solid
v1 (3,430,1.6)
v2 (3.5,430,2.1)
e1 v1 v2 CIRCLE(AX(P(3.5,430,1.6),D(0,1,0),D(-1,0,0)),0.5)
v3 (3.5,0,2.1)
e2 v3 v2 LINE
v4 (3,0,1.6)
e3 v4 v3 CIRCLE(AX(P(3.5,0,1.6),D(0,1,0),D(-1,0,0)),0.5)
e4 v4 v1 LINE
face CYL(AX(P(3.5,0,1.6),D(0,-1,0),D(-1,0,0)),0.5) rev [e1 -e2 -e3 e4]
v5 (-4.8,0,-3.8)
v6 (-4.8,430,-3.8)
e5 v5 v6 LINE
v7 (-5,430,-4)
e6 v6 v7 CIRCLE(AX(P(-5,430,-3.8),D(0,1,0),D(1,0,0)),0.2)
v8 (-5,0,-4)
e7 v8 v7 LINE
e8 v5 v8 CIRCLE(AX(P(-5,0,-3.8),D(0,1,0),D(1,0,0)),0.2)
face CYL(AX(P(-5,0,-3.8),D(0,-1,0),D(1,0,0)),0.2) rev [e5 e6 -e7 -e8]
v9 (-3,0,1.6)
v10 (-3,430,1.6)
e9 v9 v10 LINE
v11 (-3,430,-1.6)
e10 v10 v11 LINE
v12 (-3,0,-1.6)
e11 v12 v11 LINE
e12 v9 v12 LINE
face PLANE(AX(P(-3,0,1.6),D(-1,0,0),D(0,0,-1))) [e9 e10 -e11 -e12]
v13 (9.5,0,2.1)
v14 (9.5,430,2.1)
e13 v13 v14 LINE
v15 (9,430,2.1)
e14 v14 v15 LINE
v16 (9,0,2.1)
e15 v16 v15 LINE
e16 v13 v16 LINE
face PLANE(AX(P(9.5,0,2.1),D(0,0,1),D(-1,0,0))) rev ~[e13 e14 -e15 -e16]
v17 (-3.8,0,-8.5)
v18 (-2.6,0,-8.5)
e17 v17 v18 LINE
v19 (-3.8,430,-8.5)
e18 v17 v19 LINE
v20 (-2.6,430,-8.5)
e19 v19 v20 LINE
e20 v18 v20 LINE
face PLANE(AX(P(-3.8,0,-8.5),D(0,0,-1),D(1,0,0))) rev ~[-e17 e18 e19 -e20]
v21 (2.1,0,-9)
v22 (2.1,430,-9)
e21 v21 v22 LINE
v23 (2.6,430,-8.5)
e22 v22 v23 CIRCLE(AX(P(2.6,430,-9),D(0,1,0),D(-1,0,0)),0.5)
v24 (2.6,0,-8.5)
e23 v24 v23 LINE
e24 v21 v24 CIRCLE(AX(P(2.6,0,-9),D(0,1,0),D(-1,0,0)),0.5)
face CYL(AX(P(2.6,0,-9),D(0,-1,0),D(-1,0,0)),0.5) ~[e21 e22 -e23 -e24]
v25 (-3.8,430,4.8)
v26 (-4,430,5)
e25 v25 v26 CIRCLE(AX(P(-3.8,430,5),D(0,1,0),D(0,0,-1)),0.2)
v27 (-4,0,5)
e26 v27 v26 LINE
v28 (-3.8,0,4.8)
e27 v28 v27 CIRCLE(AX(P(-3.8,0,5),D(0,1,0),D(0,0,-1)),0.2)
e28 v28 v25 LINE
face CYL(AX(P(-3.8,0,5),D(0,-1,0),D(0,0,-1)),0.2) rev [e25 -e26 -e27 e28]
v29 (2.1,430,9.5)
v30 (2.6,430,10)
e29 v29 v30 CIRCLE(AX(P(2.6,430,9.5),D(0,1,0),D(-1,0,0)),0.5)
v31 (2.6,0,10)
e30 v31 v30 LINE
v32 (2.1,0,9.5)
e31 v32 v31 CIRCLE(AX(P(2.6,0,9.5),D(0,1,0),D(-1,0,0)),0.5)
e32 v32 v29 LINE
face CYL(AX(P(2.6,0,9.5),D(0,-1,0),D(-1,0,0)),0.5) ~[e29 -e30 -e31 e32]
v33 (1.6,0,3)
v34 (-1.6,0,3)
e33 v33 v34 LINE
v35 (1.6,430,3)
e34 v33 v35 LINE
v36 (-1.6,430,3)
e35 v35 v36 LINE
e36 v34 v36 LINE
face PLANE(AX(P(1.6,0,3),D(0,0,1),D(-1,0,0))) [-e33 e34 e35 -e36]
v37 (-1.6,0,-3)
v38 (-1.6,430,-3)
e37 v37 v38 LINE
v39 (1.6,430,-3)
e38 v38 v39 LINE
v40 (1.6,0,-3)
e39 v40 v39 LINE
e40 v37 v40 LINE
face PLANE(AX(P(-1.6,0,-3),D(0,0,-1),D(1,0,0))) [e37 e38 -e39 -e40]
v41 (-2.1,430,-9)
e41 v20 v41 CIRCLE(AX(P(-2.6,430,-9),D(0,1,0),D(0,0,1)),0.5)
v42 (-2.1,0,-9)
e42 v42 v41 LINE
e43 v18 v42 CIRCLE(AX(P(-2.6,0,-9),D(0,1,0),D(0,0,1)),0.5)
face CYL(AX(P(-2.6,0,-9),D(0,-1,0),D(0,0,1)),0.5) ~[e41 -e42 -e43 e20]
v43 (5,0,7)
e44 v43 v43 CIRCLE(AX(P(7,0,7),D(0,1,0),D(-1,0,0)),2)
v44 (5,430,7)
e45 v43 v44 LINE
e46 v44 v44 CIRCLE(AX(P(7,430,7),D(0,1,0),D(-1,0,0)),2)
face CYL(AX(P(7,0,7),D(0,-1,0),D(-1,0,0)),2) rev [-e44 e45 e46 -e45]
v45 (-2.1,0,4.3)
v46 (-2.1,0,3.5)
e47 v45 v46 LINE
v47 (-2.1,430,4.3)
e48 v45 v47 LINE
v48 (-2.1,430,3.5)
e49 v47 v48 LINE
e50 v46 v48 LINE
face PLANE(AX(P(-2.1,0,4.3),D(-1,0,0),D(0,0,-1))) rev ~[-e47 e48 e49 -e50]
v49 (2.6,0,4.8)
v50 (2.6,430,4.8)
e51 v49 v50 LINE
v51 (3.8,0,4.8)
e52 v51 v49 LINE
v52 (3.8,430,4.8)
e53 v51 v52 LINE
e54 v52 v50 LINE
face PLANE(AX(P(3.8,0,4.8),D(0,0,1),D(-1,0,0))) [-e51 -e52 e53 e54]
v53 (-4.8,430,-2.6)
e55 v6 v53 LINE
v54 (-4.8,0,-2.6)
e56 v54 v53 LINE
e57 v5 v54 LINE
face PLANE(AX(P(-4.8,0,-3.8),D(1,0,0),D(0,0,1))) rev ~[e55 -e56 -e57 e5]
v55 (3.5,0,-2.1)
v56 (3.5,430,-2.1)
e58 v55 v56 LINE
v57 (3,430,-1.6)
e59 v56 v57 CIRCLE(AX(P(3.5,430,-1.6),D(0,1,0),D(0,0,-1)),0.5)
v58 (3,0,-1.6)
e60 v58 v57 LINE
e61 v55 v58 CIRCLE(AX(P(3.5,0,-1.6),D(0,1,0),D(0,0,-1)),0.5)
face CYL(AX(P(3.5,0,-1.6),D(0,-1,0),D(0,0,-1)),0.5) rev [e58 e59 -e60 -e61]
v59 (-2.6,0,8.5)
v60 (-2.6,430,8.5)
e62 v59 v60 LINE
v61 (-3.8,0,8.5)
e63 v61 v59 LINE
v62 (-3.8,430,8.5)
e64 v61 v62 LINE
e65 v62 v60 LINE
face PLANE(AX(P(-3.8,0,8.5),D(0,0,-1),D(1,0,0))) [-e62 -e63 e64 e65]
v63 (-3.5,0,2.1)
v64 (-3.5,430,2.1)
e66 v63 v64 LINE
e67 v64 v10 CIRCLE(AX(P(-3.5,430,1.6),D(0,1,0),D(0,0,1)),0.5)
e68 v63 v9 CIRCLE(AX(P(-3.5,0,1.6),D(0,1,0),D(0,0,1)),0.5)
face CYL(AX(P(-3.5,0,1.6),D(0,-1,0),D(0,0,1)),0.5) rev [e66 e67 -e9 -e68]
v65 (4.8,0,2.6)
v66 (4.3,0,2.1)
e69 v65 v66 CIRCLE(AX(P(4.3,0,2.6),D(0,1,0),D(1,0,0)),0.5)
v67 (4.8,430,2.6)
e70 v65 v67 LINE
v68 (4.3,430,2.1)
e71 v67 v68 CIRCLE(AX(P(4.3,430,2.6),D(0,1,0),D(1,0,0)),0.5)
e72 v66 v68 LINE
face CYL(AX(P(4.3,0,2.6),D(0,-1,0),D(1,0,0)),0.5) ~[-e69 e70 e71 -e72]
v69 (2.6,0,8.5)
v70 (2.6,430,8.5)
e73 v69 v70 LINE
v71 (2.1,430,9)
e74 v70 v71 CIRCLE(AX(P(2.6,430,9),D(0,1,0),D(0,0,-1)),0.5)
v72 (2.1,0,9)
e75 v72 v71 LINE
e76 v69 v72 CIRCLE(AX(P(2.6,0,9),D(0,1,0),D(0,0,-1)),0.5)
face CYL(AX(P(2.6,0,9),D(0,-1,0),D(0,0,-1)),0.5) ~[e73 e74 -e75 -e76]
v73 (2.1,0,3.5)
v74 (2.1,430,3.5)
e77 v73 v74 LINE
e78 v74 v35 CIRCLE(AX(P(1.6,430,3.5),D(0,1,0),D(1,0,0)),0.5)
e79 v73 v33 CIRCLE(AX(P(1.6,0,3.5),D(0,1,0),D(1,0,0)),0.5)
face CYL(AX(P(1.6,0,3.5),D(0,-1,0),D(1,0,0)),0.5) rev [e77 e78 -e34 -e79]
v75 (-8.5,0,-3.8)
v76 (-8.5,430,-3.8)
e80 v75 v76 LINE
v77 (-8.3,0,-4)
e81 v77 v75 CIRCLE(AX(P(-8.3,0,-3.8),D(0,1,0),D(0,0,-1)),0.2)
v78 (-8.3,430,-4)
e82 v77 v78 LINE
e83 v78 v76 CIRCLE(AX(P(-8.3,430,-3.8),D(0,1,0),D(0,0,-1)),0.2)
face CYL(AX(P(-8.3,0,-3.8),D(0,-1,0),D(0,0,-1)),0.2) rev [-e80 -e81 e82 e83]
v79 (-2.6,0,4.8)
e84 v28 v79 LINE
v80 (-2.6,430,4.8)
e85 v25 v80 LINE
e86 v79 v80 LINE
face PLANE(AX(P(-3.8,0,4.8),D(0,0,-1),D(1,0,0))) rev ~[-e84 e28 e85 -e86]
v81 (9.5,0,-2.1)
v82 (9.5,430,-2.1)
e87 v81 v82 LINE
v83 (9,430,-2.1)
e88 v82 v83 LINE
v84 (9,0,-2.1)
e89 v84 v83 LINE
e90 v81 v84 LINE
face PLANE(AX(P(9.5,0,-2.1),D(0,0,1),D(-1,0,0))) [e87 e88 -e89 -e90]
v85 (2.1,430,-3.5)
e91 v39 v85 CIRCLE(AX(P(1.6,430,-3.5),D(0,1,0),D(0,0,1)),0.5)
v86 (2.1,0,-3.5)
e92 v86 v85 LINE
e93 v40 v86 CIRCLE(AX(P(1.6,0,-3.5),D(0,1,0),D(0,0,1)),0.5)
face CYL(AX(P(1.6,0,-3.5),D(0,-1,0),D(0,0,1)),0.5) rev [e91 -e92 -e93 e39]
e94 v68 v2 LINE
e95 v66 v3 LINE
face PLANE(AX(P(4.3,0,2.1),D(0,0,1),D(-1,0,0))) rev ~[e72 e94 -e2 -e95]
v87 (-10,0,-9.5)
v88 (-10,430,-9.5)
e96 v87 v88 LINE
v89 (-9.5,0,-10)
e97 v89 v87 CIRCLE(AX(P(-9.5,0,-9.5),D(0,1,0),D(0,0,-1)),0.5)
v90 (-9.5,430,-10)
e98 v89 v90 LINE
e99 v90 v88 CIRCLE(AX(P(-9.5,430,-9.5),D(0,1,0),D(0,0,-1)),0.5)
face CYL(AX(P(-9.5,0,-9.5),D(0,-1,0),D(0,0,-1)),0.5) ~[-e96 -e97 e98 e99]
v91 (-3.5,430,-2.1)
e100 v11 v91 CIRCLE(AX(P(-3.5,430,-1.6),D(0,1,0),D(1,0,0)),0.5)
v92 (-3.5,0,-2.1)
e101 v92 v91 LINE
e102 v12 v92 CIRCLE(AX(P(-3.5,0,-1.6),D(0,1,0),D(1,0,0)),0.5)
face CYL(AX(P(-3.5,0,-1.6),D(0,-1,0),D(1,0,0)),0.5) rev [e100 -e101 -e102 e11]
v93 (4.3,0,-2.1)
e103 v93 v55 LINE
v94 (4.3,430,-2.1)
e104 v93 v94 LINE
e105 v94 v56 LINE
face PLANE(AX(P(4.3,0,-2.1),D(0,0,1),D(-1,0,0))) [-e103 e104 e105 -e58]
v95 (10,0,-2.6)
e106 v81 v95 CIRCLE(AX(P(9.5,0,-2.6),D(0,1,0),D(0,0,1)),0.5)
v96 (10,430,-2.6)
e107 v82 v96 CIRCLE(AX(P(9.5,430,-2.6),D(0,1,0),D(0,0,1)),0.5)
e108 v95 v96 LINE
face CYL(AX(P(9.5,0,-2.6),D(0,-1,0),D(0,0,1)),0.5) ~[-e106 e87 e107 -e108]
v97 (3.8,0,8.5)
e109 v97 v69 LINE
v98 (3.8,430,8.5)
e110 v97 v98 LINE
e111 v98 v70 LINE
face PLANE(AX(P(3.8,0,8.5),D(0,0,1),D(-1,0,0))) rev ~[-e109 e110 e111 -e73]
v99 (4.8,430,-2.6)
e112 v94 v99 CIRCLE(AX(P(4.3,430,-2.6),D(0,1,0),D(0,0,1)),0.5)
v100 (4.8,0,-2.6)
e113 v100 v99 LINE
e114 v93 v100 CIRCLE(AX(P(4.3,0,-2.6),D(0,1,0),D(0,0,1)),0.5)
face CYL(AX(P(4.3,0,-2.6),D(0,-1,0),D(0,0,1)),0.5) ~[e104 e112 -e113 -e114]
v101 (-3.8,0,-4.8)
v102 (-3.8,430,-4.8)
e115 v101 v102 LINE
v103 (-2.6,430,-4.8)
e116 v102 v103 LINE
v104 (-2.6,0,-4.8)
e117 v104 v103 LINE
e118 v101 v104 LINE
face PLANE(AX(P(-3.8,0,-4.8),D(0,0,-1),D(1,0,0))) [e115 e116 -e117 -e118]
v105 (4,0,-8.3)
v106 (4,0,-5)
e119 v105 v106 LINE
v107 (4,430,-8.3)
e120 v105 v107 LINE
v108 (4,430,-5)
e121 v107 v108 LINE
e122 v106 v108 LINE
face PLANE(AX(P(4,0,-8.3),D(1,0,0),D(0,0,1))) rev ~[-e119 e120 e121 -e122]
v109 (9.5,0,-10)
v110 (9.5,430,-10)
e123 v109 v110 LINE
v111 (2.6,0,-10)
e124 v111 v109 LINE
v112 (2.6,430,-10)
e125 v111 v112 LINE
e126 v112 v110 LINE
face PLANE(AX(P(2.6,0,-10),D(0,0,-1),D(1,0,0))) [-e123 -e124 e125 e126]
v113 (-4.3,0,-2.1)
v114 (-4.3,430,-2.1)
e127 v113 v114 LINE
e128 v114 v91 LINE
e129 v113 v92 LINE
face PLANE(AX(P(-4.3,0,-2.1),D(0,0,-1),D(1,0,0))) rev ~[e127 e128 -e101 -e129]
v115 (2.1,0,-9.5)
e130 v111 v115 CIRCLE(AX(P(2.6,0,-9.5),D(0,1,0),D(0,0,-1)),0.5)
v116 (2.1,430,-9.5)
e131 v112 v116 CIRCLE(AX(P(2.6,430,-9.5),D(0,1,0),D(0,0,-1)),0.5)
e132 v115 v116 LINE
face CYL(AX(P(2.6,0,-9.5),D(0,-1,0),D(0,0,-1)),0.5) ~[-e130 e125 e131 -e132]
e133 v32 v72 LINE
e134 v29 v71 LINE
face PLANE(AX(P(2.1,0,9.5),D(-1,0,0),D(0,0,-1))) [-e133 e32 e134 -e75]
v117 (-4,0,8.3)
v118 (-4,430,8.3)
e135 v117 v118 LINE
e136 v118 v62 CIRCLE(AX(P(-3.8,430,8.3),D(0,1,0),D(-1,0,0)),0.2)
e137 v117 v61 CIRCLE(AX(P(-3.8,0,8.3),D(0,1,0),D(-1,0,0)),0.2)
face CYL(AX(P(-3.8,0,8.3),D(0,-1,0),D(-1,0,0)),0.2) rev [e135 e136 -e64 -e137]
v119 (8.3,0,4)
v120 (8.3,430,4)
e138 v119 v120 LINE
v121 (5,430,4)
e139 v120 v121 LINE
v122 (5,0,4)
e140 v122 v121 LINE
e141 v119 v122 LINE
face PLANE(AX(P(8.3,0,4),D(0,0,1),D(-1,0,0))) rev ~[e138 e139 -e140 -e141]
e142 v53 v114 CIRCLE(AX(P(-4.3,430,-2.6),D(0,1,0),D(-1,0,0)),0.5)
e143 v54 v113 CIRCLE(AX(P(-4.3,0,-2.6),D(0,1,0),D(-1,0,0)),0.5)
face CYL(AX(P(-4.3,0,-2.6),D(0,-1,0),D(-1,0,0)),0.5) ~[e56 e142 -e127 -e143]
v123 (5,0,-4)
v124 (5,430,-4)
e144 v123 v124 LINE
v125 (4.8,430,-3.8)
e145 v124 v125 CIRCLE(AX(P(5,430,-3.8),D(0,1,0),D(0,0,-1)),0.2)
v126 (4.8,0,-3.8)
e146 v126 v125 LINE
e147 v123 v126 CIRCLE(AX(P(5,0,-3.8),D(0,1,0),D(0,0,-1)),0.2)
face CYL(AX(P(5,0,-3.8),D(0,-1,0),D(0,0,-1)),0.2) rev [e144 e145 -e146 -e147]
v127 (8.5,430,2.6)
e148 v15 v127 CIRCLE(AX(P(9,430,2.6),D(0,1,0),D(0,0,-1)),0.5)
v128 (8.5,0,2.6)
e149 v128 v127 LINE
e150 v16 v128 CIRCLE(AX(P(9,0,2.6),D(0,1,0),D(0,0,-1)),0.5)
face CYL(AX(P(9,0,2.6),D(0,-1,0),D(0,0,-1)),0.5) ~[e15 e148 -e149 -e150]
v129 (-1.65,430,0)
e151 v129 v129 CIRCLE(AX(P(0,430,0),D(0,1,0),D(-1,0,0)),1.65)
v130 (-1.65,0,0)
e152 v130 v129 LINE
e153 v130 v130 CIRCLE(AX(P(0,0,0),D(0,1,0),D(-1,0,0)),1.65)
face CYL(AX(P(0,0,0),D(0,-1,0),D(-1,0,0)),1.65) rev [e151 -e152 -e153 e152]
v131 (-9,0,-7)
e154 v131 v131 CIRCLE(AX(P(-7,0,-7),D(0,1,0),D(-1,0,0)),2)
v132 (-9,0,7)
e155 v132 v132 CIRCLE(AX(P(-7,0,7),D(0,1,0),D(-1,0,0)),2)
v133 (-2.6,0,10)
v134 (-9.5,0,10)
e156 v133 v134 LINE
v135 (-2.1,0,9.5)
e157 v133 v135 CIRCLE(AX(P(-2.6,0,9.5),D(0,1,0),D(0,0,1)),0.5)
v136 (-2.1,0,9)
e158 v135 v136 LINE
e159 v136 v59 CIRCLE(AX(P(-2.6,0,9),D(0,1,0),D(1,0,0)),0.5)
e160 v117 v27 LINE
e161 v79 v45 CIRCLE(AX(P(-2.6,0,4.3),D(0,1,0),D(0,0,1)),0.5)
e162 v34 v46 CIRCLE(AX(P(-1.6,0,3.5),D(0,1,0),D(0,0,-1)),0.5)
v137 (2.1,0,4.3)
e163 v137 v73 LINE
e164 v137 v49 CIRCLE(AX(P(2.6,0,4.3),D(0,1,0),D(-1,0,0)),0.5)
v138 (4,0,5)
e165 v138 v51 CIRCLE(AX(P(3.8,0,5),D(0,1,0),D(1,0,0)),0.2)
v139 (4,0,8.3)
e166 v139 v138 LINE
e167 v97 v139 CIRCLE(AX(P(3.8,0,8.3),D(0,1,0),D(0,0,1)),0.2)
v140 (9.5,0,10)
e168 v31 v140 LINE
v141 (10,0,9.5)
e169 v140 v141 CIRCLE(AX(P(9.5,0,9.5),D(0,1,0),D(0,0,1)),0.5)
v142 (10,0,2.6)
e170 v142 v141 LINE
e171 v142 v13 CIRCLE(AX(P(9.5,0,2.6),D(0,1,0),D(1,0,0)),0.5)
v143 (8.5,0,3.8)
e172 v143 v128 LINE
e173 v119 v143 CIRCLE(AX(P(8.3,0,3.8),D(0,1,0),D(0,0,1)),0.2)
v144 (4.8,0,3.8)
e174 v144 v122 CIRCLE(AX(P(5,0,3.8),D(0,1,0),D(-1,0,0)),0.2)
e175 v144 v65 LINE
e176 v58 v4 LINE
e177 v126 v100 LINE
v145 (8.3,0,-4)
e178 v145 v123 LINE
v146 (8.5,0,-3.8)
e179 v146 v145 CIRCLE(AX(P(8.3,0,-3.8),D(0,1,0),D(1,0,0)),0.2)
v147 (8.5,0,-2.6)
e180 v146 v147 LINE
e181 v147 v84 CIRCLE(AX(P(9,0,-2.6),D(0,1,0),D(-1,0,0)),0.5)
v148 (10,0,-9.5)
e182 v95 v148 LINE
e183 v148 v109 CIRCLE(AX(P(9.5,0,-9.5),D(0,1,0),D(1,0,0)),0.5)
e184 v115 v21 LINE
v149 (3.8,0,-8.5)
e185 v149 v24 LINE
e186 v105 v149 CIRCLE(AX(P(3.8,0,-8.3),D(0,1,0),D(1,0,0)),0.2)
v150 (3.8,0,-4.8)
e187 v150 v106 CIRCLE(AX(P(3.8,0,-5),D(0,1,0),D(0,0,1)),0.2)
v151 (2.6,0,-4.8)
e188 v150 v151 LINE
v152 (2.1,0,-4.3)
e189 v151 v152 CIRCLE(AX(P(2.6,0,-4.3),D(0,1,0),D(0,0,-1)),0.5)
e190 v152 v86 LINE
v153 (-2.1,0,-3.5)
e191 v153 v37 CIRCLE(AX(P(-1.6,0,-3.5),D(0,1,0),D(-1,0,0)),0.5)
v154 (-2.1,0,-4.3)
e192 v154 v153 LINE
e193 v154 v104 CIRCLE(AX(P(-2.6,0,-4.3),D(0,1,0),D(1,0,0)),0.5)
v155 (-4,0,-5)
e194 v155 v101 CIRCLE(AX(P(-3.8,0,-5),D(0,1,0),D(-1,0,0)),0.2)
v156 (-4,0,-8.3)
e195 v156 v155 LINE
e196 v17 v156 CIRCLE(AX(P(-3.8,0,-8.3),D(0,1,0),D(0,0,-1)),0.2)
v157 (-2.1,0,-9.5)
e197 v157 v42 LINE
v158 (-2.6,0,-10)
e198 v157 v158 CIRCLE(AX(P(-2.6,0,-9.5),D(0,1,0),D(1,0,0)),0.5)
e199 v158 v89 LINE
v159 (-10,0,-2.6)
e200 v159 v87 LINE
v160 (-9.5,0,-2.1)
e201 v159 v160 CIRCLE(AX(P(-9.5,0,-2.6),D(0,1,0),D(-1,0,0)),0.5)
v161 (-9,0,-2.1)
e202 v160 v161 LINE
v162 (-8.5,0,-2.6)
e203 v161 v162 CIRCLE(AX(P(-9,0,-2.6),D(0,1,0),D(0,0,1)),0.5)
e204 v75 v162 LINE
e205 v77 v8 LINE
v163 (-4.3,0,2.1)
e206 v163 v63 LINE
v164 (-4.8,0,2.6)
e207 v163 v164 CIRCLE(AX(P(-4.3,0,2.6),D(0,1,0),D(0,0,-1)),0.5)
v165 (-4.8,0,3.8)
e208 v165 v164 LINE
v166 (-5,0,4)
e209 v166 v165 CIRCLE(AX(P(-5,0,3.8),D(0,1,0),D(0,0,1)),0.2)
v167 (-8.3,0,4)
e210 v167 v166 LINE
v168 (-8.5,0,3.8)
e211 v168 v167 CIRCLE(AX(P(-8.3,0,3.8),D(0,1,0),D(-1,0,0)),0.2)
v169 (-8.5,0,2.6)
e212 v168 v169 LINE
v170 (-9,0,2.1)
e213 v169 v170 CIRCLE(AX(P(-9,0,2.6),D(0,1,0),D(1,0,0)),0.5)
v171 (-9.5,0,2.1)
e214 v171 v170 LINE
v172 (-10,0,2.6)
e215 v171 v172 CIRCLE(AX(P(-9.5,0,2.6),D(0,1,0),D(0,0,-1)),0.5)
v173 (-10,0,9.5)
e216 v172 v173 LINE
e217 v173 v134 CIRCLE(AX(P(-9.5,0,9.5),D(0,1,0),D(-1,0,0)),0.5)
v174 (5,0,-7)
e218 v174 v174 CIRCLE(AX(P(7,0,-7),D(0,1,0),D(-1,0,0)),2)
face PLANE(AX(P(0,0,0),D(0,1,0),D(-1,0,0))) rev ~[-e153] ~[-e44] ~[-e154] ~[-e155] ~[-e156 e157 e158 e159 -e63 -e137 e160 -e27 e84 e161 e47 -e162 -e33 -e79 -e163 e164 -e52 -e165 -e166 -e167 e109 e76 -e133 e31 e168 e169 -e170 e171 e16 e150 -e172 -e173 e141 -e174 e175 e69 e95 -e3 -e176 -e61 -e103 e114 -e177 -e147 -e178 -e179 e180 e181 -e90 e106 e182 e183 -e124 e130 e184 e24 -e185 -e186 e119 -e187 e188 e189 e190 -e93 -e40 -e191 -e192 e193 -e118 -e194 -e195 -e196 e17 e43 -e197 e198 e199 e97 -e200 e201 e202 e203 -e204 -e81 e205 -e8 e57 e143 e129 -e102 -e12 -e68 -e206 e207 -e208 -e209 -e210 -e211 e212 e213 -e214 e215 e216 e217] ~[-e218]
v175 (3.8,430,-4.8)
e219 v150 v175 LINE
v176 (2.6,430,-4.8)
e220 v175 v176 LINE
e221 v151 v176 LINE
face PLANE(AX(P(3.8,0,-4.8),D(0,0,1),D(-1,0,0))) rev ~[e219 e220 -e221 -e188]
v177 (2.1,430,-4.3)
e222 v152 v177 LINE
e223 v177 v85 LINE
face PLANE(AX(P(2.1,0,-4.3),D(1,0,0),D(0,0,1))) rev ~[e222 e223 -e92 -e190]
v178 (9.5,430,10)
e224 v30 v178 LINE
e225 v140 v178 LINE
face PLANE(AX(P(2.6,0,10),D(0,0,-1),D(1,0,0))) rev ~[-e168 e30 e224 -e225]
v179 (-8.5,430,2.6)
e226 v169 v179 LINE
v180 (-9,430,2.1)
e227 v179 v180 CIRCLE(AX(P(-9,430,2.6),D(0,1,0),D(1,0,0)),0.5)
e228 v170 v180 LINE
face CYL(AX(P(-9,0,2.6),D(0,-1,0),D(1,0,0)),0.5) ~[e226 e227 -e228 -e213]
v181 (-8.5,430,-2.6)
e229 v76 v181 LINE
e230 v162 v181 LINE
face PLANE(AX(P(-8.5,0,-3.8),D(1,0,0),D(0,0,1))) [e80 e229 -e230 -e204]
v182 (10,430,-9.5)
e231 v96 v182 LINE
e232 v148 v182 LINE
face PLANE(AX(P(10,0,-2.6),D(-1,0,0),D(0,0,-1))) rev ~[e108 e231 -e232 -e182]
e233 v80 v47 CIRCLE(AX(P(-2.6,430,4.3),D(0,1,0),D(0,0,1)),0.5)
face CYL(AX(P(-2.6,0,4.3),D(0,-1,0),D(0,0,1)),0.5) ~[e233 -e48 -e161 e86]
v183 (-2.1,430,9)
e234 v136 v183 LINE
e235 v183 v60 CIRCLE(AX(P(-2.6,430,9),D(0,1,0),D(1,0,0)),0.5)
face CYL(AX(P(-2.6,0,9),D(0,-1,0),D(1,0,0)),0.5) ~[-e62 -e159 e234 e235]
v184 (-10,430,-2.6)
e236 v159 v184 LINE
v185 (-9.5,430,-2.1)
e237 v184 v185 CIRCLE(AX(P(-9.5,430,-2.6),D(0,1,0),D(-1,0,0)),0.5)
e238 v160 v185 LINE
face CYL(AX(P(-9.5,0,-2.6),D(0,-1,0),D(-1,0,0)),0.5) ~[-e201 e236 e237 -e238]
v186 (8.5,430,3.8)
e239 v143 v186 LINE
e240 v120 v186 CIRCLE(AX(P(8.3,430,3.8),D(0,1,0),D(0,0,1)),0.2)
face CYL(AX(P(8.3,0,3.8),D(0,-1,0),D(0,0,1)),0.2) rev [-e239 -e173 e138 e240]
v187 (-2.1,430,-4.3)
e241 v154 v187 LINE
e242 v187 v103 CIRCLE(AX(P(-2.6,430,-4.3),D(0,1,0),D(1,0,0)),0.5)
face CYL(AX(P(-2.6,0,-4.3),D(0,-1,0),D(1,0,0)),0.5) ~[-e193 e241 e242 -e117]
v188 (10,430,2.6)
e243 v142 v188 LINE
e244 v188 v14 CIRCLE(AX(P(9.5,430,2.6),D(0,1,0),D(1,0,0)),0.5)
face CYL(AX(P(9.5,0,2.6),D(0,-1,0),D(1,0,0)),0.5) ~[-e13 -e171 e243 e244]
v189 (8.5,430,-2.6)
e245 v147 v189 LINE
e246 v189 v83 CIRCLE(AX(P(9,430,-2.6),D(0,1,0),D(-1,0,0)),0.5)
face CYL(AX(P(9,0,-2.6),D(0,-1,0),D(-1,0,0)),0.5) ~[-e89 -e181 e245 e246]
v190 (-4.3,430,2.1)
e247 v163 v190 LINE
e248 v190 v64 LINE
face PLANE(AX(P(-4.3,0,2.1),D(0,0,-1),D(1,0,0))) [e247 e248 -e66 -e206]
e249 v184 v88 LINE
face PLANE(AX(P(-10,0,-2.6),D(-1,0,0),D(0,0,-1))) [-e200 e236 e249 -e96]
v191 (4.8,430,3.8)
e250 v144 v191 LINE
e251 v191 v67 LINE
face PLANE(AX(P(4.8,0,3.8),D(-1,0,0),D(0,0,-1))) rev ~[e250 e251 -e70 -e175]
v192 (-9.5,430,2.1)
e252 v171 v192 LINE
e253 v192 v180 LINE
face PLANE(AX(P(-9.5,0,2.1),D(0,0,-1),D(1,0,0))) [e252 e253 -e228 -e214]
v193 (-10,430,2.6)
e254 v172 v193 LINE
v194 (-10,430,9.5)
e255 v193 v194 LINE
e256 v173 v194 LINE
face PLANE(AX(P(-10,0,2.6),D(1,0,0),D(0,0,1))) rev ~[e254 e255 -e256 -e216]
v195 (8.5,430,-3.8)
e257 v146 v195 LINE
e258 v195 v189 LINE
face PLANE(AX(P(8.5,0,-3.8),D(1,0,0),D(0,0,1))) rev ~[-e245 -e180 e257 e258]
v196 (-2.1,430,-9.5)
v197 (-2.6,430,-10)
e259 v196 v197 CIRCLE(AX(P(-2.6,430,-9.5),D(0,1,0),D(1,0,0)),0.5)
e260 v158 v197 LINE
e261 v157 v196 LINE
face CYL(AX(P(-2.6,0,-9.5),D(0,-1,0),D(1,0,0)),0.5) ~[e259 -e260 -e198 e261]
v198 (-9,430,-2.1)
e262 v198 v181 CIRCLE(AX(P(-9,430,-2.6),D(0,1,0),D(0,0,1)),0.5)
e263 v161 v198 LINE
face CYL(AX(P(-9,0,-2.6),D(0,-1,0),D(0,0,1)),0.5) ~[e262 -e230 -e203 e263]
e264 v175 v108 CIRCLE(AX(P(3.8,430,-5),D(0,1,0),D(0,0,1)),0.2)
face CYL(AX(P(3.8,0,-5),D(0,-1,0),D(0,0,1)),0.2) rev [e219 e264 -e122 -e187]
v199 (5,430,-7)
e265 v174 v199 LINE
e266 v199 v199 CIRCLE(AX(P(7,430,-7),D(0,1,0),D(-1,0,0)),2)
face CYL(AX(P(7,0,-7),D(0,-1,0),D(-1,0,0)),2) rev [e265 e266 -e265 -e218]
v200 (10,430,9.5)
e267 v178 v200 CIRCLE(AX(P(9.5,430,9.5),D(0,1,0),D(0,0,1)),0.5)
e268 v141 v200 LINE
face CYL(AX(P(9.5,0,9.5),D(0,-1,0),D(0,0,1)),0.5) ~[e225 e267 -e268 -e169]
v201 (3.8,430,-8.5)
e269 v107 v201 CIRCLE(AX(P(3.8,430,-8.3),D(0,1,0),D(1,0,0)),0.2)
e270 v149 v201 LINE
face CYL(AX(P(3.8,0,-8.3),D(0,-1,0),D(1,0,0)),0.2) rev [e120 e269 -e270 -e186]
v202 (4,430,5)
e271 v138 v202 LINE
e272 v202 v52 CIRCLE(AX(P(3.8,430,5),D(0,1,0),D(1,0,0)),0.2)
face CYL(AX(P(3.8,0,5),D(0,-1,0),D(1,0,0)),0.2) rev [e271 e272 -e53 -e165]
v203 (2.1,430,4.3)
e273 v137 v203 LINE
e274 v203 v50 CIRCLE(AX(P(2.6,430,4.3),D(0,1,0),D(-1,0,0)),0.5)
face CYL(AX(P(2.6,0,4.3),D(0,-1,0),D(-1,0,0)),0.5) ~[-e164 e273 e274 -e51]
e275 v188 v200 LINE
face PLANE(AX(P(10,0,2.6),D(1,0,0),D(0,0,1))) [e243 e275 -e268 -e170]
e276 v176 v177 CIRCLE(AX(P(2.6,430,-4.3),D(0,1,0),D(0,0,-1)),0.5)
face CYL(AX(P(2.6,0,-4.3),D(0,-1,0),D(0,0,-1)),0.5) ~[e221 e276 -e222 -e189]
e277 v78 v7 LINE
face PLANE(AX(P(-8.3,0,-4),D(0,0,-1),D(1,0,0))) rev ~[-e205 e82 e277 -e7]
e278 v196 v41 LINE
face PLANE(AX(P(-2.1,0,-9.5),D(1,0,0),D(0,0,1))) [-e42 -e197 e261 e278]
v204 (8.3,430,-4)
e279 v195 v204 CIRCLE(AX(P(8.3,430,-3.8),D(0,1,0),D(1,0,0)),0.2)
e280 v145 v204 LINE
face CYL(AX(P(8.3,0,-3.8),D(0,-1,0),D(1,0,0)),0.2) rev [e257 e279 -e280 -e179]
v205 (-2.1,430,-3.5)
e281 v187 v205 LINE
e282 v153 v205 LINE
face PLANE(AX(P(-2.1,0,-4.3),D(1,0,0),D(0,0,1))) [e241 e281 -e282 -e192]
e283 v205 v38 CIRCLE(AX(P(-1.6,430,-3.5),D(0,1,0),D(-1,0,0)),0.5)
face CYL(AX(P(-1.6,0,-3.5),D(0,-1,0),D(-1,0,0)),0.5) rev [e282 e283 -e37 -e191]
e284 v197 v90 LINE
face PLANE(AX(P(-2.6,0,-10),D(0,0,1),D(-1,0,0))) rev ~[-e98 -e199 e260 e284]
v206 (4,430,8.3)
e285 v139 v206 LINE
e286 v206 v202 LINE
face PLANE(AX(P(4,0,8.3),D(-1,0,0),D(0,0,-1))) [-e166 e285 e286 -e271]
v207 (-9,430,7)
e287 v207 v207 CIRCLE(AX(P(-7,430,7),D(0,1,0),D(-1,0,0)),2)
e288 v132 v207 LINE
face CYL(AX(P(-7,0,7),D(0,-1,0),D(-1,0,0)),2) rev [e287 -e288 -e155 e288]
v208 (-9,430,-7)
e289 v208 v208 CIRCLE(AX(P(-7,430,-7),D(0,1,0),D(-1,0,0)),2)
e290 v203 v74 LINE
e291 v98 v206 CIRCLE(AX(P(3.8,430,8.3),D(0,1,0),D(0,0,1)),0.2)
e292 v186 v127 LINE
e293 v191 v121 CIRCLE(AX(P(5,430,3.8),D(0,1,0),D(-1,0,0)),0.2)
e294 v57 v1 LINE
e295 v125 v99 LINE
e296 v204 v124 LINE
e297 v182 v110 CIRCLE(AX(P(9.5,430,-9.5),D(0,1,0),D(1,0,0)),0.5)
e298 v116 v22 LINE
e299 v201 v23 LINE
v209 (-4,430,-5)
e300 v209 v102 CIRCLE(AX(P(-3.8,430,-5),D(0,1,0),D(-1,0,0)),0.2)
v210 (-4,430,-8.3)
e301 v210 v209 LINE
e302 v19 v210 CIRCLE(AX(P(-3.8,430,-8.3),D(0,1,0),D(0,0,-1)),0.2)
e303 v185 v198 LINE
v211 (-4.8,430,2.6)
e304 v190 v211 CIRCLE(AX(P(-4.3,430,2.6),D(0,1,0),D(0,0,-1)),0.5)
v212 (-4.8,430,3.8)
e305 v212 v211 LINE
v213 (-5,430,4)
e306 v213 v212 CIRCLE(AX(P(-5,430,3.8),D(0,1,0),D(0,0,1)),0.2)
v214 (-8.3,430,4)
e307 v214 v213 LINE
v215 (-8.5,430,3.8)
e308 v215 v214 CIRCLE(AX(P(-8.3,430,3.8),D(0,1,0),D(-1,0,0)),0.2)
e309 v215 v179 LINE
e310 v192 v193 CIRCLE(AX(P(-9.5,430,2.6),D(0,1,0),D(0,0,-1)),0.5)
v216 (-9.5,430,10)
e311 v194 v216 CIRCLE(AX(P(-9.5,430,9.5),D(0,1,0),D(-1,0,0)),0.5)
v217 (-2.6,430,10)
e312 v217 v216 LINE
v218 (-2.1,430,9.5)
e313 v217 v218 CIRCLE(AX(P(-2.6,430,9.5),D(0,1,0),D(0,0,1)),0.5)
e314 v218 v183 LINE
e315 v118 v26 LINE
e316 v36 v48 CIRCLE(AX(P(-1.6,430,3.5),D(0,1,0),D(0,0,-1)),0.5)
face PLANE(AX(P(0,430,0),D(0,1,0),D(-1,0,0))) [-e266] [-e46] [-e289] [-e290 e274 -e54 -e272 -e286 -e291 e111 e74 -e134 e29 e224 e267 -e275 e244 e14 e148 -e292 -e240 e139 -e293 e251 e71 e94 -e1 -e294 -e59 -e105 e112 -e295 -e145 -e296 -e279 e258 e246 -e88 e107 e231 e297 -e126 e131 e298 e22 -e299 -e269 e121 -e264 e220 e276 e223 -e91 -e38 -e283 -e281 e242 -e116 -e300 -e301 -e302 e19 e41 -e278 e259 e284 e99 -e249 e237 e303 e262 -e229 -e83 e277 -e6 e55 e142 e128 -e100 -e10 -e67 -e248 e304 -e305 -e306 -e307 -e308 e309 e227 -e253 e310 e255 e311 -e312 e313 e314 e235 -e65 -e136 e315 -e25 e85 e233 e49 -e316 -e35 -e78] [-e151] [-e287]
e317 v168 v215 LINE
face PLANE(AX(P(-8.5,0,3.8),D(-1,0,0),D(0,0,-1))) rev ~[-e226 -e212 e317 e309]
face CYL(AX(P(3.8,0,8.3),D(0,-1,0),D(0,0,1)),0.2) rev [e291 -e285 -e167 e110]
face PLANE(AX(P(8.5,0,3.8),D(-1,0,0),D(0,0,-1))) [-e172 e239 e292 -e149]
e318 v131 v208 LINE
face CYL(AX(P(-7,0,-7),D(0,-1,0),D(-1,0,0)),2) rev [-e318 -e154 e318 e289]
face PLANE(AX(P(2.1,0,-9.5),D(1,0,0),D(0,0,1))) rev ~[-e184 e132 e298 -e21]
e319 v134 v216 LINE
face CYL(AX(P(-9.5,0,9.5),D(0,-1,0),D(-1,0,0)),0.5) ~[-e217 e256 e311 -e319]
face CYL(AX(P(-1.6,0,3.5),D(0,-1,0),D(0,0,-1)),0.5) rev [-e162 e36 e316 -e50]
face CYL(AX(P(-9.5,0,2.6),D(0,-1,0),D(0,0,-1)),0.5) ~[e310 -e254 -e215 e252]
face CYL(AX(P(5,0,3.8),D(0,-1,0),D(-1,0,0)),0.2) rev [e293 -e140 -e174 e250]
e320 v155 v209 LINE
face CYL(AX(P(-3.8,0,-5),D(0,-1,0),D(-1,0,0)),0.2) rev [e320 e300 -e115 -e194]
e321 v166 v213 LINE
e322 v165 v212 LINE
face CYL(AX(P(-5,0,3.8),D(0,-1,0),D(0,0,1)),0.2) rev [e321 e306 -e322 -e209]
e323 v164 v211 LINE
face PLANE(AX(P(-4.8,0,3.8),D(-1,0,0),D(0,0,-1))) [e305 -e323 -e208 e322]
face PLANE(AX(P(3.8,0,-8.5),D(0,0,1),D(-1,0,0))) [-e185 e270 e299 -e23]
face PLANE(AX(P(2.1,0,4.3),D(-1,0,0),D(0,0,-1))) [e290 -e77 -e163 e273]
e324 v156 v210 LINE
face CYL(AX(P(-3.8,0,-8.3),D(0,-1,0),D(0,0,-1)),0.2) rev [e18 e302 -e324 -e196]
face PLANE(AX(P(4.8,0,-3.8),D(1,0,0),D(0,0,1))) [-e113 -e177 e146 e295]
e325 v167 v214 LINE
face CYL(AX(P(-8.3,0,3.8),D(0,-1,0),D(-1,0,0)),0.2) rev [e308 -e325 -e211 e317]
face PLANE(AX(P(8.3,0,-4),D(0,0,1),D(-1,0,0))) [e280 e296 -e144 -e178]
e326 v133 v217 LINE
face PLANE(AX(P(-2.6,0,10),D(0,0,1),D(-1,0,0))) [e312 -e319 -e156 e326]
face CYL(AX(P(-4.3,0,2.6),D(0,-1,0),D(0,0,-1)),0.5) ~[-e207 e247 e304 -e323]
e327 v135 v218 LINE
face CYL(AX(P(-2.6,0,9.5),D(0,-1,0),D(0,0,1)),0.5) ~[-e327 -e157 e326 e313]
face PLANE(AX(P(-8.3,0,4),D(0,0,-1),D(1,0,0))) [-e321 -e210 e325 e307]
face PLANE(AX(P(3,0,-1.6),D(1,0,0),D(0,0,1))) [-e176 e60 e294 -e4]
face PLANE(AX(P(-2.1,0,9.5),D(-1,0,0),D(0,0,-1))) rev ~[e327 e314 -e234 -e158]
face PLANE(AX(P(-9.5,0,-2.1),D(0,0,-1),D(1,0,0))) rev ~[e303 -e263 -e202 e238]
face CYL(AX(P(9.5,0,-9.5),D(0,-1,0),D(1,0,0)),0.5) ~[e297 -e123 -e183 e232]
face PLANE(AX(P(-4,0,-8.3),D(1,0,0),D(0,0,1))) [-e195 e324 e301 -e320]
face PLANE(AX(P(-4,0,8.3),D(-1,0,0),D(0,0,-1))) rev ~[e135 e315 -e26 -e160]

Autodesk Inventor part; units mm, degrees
ref_plane "YZ Plane" through (0, 0, 0) normal (1, 0, 0) x (0, 1, 0)
ref_plane "開始平面" through (0, 0, 0) normal (0, 1, 0) x (-1, 0, 0)
ref_plane "終了平面" through (0, 430, 0) normal (0, 1, 0) x (-1, 0, 0)
sketch "スケッチ" plane through (0, 0, 0) normal (0, 1, 0) x (-1, 0, 0)
  line L0 (8.5, -3.8) -> (8.5, -2.6)
  line L1 (4, -8.3) -> (4, -5)
  circle A0 centre (7, -7) radius 2
  line L2 (10, -2.6) -> (10, -9.5)
  line L3 (2.6, -10) -> (9.5, -10)
  line L4 (2.1, -9.5) -> (2.1, -9)
  line L5 (8.5, -2.1) -> (8.5, -4)
  line L6 (3.8, -4.8) -> (2.6, -4.8)
  line L7 (4.8, -3.8) -> (4.8, -2.6)
  arc A1 (2.1, -4.3) -> (2.6, -4.8) centre (2.6, -4.3) ccw
  arc A2 (2.6, -8.5) -> (2.1, -9) centre (2.6, -9) ccw
  arc A3 (3.8, -8.5) -> (4, -8.3) centre (3.8, -8.3) ccw
  arc A4 (4, -5) -> (3.8, -4.8) centre (3.8, -5) ccw
  arc A5 (2.1, -3.5) -> (1.6, -3) centre (1.6, -3.5) ccw
  arc A6 (2.1, -9.5) -> (2.6, -10) centre (2.6, -9.5) ccw
  arc A7 (9.5, -10) -> (10, -9.5) centre (9.5, -9.5) ccw
  arc A8 (10, -2.6) -> (9.5, -2.1) centre (9.5, -2.6) ccw
  arc A9 (9, -2.1) -> (8.5, -2.6) centre (9, -2.6) ccw
  arc A10 (8.3, -4) -> (8.5, -3.8) centre (8.3, -3.8) ccw
  arc A11 (4.8, -3.8) -> (5, -4) centre (5, -3.8) ccw
  line L8 (4.3, -2.1) -> (3.5, -2.1)
  arc A12 (4.8, -2.6) -> (4.3, -2.1) centre (4.3, -2.6) ccw
  arc A13 (3, -1.6) -> (3.5, -2.1) centre (3.5, -1.6) ccw
  line L9 (2.1, -4.3) -> (2.1, -3.5)
  line L10 (3.8, -8.5) -> (2.6, -8.5)
  line L11 (9.5, -2.1) -> (9, -2.1)
  line L12 (8.3, -4) -> (5, -4)
  circle A14 centre (0, 0) radius 1.65
  arc A15 (8.5, 2.6) -> (9, 2.1) centre (9, 2.6) ccw
  line L13 (8.5, 3.8) -> (8.5, 2.6)
  arc A16 (8.5, 3.8) -> (8.3, 4) centre (8.3, 3.8) ccw
  line L14 (8.3, 4) -> (5, 4)
  line L15 (10, 2.6) -> (10, 9.5)
  arc A17 (10, 9.5) -> (9.5, 10) centre (9.5, 9.5) ccw
  circle A18 centre (7, 7) radius 2
  line L16 (4, 8.3) -> (4, 5)
  line L17 (2.6, 10) -> (9.5, 10)
  line L18 (9.5, 2.1) -> (9, 2.1)
  arc A19 (9.5, 2.1) -> (10, 2.6) centre (9.5, 2.6) ccw
  line L19 (3.8, 8.5) -> (2.6, 8.5)
  line L20 (4.8, 3.8) -> (4.8, 2.6)
  arc A20 (4.3, 2.1) -> (4.8, 2.6) centre (4.3, 2.6) ccw
  line L21 (2.1, 8.5) -> (4, 8.5)
  arc A21 (4, 8.3) -> (3.8, 8.5) centre (3.8, 8.3) ccw
  arc A22 (2.1, 9) -> (2.6, 8.5) centre (2.6, 9) ccw
  arc A23 (2.6, 10) -> (2.1, 9.5) centre (2.6, 9.5) ccw
  line L22 (2.1, 9.5) -> (2.1, 9)
  arc A24 (1.6, 3) -> (2.1, 3.5) centre (1.6, 3.5) ccw
  line L23 (3.8, 4.8) -> (2.6, 4.8)
  arc A25 (5, 4) -> (4.8, 3.8) centre (5, 3.8) ccw
  arc A26 (3.8, 4.8) -> (4, 5) centre (3.8, 5) ccw
  line L24 (4.3, 2.1) -> (3.5, 2.1)
  arc A27 (2.6, 4.8) -> (2.1, 4.3) centre (2.6, 4.3) ccw
  line L25 (2.1, 4.3) -> (2.1, 3.5)
  arc A28 (3.5, 2.1) -> (3, 1.6) centre (3.5, 1.6) ccw
  arc A29 (-2.6, 8.5) -> (-2.1, 9) centre (-2.6, 9) ccw
  line L26 (-3.8, 8.5) -> (-2.6, 8.5)
  arc A30 (-3.8, 8.5) -> (-4, 8.3) centre (-3.8, 8.3) ccw
  line L27 (-4, 8.3) -> (-4, 5)
  line L28 (-2.6, 10) -> (-9.5, 10)
  arc A31 (-9.5, 10) -> (-10, 9.5) centre (-9.5, 9.5) ccw
  circle A32 centre (-7, 7) radius 2
  line L29 (-8.3, 4) -> (-5, 4)
  line L30 (-10, 2.6) -> (-10, 9.5)
  line L31 (-2.1, 9.5) -> (-2.1, 9)
  arc A33 (-2.1, 9.5) -> (-2.6, 10) centre (-2.6, 9.5) ccw
  line L32 (-8.5, 3.8) -> (-8.5, 2.6)
  line L33 (-3.8, 4.8) -> (-2.6, 4.8)
  arc A34 (-2.1, 4.3) -> (-2.6, 4.8) centre (-2.6, 4.3) ccw
  line L34 (-8.5, 2.1) -> (-8.5, 4)
  arc A35 (-8.3, 4) -> (-8.5, 3.8) centre (-8.3, 3.8) ccw
  arc A36 (-9, 2.1) -> (-8.5, 2.6) centre (-9, 2.6) ccw
  arc A37 (-10, 2.6) -> (-9.5, 2.1) centre (-9.5, 2.6) ccw
  line L35 (-9.5, 2.1) -> (-9, 2.1)
  arc A38 (-3, 1.6) -> (-3.5, 2.1) centre (-3.5, 1.6) ccw
  line L36 (-4.8, 3.8) -> (-4.8, 2.6)
  arc A39 (-4, 5) -> (-3.8, 4.8) centre (-3.8, 5) ccw
  arc A40 (-4.8, 3.8) -> (-5, 4) centre (-5, 3.8) ccw
  line L37 (-2.1, 4.3) -> (-2.1, 3.5)
  arc A41 (-4.8, 2.6) -> (-4.3, 2.1) centre (-4.3, 2.6) ccw
  line L38 (-4.3, 2.1) -> (-3.5, 2.1)
  arc A42 (-2.1, 3.5) -> (-1.6, 3) centre (-1.6, 3.5) ccw
  arc A43 (-8.5, -2.6) -> (-9, -2.1) centre (-9, -2.6) ccw
  line L39 (-8.5, -3.8) -> (-8.5, -2.6)
  arc A44 (-8.5, -3.8) -> (-8.3, -4) centre (-8.3, -3.8) ccw
  line L40 (-8.3, -4) -> (-5, -4)
  line L41 (-10, -2.6) -> (-10, -9.5)
  arc A45 (-10, -9.5) -> (-9.5, -10) centre (-9.5, -9.5) ccw
  circle A46 centre (-7, -7) radius 2
  line L42 (-4, -8.3) -> (-4, -5)
  line L43 (-2.6, -10) -> (-9.5, -10)
  line L44 (-9.5, -2.1) -> (-9, -2.1)
  arc A47 (-9.5, -2.1) -> (-10, -2.6) centre (-9.5, -2.6) ccw
  line L45 (-3.8, -8.5) -> (-2.6, -8.5)
  line L46 (-4.8, -3.8) -> (-4.8, -2.6)
  arc A48 (-4.3, -2.1) -> (-4.8, -2.6) centre (-4.3, -2.6) ccw
  line L47 (-2.1, -8.5) -> (-4, -8.5)
  arc A49 (-4, -8.3) -> (-3.8, -8.5) centre (-3.8, -8.3) ccw
  arc A50 (-2.1, -9) -> (-2.6, -8.5) centre (-2.6, -9) ccw
  arc A51 (-2.6, -10) -> (-2.1, -9.5) centre (-2.6, -9.5) ccw
  line L48 (-2.1, -9.5) -> (-2.1, -9)
  arc A52 (-1.6, -3) -> (-2.1, -3.5) centre (-1.6, -3.5) ccw
  line L49 (-3.8, -4.8) -> (-2.6, -4.8)
  arc A53 (-5, -4) -> (-4.8, -3.8) centre (-5, -3.8) ccw
  arc A54 (-3.8, -4.8) -> (-4, -5) centre (-3.8, -5) ccw
  line L50 (-4.3, -2.1) -> (-3.5, -2.1)
  arc A55 (-2.6, -4.8) -> (-2.1, -4.3) centre (-2.6, -4.3) ccw
  line L51 (-2.1, -4.3) -> (-2.1, -3.5)
  arc A56 (-3.5, -2.1) -> (-3, -1.6) centre (-3.5, -1.6) ccw
  line L52 (1.6, -3) -> (-1.6, -3)
  line L53 (-3, -1.6) -> (-3, 1.6)
  line L54 (-1.6, 3) -> (1.6, 3)
  line L55 (3, 1.6) -> (3, -1.6)
  point P0 (2.1, -10)
  point P1 (10, 2.1)
  point P2 (-2.1, 10)
  point P3 (-10, -2.1)
  dimension "d12" = 4
  dimension "d14" = 3.7
  dimension "d16" = 0.5
  dimension "d17" = 0.5
  dimension "d18" = 0.2
  dimension "d19" = 0.5
  dimension "d20" = 0.5
  dimension "d24" = 0.5
  dimension "d25" = 0.2
  dimension "d28" = 0.5
  dimension "d31" = 1.5
  dimension "d36" = 3.7
  dimension "d37" = 1.5
  dimension "d58" = 3.3
  dimension "d65" = 10
  dimension "d67" = 2.1
  dimension "d68" = 2.1
  dimension "d69" = 1.9
  dimension "d70" = 7
  dimension "d72" = 2.1
  dimension "d73" = 2.1
  dimension "d74" = 1.9
  dimension "d75" = 7
  dimension "d76" = 10
  dimension "d80" = 360
  dimension "d82" = 3
extrude "ボディ" add sketch "スケッチ" along normal up to surface (430 mm away) from surface at 0
equation "\"G_OFFSET_START\" = 0"
equation "\"G_OFFSET_END\" = 0"
equation "\"G_L\" = d90"
equation "\"d90\" = 330"
properties part number "s430" material "アルミニウム 6061"
